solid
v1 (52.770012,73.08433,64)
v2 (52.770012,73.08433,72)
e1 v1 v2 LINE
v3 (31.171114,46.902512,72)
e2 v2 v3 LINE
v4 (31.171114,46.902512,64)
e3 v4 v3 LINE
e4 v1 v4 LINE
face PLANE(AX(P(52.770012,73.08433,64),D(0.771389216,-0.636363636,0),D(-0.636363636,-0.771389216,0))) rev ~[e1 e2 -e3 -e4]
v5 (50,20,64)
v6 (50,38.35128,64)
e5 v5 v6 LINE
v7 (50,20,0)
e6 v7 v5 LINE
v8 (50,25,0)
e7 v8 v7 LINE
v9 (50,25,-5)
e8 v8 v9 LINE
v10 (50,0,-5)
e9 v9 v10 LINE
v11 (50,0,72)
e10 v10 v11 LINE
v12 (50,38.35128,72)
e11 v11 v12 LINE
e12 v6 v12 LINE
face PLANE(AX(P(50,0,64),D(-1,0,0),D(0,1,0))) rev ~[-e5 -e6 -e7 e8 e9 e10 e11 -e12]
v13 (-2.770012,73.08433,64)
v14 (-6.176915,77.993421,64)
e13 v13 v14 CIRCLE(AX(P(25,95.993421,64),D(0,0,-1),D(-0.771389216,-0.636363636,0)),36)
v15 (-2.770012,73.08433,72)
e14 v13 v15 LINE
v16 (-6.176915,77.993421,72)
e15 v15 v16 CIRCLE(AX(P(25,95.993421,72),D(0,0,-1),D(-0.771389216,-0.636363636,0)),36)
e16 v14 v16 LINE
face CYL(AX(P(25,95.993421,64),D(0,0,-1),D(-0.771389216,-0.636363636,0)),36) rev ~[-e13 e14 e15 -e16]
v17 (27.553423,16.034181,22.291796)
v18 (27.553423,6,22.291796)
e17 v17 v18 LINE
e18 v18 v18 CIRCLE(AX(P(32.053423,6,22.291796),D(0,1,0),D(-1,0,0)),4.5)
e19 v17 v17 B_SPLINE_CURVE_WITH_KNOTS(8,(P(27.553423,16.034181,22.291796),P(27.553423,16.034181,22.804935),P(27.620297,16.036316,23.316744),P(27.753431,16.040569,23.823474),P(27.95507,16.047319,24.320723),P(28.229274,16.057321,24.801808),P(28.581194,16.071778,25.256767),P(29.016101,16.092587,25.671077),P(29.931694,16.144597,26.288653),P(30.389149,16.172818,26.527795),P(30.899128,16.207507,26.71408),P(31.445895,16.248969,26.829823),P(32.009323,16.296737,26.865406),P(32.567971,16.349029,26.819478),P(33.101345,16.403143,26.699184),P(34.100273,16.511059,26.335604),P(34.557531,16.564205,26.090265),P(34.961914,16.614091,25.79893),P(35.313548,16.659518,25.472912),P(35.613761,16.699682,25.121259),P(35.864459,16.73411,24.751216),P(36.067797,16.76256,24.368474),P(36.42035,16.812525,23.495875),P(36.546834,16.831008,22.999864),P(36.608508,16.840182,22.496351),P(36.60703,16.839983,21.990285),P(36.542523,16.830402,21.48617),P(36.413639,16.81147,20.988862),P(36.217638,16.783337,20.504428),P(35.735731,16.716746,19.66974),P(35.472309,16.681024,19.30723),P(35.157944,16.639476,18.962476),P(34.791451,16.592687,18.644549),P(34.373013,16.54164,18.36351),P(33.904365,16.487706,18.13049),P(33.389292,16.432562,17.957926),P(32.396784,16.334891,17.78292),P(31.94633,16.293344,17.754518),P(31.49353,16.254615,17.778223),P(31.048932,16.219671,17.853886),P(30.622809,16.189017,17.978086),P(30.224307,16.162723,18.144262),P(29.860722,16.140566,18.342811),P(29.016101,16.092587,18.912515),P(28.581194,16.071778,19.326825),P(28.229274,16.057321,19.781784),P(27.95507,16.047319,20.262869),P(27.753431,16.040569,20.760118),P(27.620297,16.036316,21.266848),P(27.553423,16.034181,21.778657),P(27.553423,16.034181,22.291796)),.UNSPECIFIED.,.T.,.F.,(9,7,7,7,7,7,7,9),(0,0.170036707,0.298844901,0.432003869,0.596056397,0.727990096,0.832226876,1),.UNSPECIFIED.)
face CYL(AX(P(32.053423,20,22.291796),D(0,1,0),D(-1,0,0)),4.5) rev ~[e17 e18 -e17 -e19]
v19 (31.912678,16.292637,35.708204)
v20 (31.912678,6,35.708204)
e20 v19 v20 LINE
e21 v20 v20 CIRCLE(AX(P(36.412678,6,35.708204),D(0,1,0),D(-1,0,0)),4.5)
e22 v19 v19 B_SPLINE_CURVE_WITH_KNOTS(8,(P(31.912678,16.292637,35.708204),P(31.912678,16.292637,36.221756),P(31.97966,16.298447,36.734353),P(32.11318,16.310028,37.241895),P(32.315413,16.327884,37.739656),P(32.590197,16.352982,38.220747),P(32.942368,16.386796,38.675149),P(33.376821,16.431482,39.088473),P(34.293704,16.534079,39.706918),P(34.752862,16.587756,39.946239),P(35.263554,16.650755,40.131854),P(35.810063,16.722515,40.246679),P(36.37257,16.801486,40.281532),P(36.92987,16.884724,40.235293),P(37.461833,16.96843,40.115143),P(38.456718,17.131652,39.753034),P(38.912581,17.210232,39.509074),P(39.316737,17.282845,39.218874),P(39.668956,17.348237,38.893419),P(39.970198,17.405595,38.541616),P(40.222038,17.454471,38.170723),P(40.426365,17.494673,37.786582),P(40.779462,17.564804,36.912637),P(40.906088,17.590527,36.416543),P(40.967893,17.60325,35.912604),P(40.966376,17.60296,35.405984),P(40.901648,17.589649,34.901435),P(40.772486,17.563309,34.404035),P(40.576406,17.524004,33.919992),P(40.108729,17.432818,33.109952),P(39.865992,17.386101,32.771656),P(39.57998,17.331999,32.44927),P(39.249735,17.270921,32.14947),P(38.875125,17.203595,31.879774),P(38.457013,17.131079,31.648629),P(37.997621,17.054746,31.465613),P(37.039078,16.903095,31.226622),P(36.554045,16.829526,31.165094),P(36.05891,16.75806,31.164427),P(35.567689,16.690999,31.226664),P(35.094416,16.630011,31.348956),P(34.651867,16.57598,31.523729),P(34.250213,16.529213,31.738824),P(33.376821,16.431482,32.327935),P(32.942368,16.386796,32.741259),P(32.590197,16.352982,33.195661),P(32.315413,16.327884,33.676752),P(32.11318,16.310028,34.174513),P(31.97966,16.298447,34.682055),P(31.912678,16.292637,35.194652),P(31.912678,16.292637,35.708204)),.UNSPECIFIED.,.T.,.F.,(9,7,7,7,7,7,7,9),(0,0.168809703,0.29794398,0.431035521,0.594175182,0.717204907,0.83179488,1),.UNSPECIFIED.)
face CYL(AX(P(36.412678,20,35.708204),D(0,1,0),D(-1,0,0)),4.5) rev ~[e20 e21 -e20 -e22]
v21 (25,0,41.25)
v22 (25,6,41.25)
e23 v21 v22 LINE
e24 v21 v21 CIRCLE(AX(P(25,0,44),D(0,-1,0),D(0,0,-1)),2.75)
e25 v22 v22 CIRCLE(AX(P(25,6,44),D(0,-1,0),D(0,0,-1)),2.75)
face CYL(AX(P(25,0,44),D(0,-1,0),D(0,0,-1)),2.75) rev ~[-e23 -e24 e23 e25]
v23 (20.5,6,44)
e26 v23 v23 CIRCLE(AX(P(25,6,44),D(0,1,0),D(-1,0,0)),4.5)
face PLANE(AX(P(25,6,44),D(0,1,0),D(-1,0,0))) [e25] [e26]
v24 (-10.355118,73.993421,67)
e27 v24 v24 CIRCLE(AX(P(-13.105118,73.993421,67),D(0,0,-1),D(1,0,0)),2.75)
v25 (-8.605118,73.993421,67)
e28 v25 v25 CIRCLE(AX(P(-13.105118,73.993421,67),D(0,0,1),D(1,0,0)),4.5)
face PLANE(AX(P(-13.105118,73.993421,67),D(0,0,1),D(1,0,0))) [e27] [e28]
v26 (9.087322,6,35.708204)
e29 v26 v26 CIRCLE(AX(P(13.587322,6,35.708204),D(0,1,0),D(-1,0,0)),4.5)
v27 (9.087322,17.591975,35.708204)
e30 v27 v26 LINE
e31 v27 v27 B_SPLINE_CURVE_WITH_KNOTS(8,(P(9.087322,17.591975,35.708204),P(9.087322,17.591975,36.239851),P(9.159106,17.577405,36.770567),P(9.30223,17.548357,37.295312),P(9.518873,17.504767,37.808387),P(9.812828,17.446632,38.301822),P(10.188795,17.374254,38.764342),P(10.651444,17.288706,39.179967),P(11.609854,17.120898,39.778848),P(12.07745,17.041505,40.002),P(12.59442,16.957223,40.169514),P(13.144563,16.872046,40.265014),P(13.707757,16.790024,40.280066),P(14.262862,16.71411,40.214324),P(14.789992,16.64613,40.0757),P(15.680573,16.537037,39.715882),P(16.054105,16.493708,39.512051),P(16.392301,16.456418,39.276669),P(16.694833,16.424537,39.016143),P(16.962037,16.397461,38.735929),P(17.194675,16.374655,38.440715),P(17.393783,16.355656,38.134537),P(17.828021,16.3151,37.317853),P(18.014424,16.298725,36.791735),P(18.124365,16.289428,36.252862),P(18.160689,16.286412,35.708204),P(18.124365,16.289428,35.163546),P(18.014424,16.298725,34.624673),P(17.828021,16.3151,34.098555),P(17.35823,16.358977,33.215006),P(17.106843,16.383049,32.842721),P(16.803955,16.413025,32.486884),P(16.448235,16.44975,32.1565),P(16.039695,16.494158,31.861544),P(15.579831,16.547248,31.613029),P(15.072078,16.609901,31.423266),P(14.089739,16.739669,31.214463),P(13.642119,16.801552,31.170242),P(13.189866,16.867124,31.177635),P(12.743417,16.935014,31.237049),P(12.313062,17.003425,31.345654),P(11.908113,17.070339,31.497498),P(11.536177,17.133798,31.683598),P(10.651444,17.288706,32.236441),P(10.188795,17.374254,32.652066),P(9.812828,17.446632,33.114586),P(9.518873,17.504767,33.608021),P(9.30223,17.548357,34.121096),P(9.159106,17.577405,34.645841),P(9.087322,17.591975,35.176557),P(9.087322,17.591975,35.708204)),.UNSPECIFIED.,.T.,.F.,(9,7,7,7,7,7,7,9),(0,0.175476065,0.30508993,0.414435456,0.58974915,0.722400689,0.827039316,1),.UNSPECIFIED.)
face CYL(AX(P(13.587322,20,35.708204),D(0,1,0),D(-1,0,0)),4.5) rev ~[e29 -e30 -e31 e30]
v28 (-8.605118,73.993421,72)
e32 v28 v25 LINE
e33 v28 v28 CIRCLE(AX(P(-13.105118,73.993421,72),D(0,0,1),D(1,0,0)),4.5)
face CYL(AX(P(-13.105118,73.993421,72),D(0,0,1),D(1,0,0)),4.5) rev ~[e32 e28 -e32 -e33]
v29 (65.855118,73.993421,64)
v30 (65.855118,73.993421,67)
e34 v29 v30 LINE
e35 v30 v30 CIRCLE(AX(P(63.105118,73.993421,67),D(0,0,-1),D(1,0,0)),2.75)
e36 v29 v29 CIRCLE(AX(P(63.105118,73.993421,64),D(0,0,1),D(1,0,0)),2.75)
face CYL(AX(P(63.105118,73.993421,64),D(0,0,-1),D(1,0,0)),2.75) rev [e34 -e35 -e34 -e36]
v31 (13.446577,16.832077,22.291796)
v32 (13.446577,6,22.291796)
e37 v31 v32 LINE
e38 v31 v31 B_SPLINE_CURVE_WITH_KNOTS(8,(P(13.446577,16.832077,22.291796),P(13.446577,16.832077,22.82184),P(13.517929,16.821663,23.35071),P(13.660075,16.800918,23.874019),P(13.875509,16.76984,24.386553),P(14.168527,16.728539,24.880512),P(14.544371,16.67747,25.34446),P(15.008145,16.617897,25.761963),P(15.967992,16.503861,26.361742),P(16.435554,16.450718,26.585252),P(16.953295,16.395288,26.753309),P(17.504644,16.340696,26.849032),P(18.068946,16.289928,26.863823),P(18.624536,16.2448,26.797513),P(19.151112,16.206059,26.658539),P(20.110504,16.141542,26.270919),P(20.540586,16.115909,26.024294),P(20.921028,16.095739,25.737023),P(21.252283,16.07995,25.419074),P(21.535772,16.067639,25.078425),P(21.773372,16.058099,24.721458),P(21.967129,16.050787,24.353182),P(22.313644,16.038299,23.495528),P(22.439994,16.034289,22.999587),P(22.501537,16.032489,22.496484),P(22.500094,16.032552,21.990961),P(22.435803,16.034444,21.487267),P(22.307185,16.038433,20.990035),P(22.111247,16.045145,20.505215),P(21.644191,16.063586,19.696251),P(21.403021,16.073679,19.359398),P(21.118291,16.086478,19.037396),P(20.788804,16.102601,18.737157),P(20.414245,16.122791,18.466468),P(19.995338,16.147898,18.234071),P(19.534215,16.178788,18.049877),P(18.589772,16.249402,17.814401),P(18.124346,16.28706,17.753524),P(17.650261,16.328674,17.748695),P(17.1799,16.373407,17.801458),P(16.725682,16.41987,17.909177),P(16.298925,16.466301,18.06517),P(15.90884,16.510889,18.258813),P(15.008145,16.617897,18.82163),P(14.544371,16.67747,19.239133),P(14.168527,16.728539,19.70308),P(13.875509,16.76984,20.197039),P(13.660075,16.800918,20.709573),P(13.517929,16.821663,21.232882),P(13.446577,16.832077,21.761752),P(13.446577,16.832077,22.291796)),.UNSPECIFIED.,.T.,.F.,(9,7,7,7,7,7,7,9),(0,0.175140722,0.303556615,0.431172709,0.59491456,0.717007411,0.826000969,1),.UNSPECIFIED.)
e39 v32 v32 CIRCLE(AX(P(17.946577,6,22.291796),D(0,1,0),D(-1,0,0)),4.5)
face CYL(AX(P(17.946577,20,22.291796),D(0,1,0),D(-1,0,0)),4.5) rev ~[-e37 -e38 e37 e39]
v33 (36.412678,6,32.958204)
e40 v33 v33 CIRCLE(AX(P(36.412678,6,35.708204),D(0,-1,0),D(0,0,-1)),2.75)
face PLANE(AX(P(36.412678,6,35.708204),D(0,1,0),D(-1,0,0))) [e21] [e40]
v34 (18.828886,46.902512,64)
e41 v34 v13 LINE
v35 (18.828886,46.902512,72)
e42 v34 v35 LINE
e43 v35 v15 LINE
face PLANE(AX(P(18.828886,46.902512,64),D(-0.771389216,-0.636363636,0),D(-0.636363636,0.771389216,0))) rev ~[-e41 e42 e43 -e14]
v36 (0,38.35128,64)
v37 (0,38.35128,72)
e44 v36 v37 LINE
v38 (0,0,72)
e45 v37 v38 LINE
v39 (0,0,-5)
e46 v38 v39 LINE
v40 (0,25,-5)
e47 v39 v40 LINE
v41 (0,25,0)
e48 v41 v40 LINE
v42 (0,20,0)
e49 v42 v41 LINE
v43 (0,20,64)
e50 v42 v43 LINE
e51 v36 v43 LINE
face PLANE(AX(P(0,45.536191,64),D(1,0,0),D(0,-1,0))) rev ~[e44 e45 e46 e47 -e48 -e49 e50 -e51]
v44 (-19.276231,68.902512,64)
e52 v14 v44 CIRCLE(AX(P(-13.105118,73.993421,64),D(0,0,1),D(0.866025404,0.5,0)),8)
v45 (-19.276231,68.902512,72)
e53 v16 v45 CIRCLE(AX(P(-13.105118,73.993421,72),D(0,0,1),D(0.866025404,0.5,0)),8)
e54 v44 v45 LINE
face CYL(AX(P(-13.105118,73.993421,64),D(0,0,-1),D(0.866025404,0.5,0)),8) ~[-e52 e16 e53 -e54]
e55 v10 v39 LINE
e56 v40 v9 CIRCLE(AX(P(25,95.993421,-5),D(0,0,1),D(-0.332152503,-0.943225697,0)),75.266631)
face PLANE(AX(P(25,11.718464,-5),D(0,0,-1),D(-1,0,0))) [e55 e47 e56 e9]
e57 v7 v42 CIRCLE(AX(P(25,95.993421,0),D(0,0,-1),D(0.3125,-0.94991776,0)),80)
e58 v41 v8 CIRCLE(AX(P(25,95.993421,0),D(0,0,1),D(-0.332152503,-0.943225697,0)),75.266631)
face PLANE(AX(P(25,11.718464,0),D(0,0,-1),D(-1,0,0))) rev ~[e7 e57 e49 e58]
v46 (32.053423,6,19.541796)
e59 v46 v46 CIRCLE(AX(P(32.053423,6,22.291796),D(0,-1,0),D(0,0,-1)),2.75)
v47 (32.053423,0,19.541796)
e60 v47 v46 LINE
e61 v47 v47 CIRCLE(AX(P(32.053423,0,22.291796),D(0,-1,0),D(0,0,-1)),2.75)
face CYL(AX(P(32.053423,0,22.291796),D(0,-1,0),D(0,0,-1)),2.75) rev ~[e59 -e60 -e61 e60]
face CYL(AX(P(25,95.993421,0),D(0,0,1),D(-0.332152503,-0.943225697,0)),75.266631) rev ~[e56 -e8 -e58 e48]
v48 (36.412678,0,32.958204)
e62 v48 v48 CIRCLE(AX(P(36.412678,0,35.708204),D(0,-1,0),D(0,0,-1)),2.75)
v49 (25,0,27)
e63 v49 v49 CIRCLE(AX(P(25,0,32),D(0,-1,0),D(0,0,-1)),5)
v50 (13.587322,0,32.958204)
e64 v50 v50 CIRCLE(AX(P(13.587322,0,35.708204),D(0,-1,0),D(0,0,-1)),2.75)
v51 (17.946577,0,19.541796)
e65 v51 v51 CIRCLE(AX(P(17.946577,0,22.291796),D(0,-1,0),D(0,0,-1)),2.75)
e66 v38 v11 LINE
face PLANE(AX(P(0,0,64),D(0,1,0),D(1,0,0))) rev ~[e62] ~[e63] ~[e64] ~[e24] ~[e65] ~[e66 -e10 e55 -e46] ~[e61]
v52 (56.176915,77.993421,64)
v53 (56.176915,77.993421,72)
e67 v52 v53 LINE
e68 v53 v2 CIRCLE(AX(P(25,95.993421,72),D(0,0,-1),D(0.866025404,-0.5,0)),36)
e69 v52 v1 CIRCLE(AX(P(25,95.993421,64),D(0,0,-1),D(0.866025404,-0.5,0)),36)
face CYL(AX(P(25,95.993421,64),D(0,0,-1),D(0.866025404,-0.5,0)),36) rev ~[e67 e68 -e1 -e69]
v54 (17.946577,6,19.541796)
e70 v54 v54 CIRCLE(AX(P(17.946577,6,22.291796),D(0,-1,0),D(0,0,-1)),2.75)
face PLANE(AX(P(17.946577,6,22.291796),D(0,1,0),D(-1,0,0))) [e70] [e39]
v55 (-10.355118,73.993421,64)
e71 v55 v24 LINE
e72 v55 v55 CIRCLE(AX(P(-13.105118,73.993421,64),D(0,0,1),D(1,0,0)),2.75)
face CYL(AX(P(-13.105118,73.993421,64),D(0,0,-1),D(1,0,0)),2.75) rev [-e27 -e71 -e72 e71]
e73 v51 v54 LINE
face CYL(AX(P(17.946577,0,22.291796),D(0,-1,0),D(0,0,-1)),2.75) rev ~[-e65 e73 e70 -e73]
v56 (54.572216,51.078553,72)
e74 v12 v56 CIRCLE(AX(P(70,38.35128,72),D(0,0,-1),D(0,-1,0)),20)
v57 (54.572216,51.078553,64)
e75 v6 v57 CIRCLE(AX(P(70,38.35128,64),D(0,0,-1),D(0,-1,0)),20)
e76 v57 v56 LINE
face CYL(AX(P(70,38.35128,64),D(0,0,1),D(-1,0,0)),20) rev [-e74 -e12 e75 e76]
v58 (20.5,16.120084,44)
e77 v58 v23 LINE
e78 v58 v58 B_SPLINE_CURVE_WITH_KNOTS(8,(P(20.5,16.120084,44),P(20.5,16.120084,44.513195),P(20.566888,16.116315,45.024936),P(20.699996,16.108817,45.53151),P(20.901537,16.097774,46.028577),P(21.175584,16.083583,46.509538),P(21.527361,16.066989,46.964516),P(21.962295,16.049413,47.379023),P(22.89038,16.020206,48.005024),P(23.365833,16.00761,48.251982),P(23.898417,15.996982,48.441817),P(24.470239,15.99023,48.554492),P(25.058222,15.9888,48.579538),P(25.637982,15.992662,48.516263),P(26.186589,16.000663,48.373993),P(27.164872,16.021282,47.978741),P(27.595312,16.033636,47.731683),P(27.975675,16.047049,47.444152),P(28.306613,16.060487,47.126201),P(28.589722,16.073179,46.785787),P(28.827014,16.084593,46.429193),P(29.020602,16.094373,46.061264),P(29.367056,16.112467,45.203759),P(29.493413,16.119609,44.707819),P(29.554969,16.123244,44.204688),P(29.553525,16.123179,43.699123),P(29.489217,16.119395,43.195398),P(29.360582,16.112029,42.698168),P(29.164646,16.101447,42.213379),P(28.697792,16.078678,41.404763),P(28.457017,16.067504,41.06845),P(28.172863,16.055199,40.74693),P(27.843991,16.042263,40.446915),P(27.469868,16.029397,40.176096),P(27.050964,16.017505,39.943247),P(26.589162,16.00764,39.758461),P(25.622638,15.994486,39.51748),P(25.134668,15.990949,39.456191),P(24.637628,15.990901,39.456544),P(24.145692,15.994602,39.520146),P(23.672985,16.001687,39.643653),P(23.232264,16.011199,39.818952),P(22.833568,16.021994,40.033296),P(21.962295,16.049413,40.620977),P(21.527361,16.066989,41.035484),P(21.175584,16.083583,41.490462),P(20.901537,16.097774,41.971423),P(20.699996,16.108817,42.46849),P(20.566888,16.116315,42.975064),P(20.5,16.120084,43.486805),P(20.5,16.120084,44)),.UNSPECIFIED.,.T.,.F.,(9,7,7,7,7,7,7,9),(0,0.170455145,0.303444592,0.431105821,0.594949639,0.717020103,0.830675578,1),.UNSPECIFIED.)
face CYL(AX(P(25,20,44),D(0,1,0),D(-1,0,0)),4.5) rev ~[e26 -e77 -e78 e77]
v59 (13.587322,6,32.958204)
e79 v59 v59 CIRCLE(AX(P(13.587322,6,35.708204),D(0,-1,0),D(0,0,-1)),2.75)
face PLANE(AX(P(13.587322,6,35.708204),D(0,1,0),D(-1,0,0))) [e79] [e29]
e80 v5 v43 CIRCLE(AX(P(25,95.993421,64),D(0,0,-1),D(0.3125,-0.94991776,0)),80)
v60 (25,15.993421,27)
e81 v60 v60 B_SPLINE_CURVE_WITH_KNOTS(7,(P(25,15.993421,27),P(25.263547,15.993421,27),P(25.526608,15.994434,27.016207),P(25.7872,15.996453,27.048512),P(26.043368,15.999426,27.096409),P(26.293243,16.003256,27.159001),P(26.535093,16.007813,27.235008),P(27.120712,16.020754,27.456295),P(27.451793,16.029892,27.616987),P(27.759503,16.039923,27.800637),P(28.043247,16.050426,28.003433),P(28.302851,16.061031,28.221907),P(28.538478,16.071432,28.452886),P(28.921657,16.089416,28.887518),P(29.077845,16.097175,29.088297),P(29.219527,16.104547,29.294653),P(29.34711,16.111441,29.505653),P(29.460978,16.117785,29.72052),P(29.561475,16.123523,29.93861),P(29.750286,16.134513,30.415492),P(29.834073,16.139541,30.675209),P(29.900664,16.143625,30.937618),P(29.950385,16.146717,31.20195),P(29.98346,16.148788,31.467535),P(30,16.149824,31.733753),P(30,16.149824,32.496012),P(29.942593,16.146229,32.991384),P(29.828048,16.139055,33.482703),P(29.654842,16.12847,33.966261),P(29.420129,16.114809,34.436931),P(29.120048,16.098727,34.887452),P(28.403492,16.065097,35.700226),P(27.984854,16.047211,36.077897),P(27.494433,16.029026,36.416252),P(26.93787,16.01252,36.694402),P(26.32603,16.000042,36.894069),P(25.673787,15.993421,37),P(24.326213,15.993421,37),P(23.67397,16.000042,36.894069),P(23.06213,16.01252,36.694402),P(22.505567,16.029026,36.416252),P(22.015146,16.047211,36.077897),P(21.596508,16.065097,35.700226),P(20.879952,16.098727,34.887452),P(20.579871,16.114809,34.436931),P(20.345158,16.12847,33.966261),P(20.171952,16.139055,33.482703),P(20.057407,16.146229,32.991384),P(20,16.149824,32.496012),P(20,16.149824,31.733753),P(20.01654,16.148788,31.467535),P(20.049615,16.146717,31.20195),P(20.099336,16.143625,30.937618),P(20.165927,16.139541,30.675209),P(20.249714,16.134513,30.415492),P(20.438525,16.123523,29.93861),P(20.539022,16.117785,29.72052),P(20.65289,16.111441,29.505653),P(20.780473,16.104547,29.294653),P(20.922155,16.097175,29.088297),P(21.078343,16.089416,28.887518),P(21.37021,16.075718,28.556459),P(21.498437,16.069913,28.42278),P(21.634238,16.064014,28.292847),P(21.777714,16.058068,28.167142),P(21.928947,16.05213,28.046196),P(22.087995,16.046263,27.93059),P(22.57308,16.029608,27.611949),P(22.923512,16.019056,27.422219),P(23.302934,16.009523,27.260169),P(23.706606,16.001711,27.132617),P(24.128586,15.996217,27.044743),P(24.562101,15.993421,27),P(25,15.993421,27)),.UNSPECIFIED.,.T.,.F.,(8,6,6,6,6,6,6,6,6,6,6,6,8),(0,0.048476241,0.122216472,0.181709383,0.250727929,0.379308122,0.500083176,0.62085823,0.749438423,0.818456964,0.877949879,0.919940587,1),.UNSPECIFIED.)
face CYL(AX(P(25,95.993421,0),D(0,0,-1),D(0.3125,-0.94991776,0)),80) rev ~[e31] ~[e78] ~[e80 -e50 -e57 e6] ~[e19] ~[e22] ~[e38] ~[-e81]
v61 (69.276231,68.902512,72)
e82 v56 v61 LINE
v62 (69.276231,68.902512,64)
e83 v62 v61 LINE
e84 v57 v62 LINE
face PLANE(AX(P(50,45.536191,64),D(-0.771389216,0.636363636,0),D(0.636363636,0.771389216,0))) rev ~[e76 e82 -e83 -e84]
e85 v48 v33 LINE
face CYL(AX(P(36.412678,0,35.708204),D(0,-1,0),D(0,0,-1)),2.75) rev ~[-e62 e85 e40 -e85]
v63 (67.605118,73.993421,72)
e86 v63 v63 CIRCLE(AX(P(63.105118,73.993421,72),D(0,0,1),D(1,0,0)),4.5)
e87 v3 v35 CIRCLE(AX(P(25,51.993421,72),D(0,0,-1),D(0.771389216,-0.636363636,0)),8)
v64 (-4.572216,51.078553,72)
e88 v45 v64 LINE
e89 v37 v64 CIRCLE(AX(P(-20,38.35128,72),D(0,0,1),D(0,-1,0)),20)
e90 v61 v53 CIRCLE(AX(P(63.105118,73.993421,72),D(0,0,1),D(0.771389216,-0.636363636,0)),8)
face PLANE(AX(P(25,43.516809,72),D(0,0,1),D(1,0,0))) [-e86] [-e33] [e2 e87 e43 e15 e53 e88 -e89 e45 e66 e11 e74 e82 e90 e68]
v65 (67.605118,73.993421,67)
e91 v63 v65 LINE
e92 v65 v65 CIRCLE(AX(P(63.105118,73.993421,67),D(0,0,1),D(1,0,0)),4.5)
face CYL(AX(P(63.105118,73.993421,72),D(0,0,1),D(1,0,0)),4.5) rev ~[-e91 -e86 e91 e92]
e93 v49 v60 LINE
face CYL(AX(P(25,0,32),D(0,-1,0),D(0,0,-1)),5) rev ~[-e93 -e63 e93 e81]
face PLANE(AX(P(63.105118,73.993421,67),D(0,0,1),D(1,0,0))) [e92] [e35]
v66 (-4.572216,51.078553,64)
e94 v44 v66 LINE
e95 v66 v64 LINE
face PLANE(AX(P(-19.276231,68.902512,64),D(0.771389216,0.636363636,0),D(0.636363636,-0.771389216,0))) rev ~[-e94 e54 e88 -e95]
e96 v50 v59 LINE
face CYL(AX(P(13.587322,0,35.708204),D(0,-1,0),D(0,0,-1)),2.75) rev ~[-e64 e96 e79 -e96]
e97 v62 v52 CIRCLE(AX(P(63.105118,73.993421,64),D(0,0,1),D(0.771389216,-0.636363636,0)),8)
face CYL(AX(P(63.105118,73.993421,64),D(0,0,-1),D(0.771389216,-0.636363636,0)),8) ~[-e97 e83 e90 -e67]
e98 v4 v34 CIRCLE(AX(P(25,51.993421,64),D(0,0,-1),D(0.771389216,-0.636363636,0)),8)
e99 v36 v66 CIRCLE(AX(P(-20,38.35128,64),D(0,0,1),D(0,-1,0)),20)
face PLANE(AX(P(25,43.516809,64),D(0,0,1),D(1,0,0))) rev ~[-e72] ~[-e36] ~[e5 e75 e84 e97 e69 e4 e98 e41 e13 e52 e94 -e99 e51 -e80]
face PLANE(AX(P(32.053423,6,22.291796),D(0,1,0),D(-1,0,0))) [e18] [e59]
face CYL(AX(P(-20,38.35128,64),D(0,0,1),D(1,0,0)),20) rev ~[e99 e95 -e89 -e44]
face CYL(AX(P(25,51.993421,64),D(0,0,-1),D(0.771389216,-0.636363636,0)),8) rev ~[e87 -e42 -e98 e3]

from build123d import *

# Parameters (mm, degrees)
BOSS_EXTRUDE1_DEPTH = 64
BOSS_EXTRUDE2_DEPTH = 5
SKETCH5_R           = 2.75
BOSS_EXTRUDE3_DEPTH = 8
SKETCH6_R           = 4.5
CUT_EXTRUDE1_DEPTH  = 5
SKETCH7_R           = 2.75
SKETCH7_R_2         = 5
CUT_EXTRUDE2_DEPTH  = 131.241540308
SKETCH8_R           = 4.5
CUT_EXTRUDE3_DEPTH  = 14
FILLET2_R           = 20


with BuildPart() as part:
    # Sketch3 → Boss-Extrude1 (new body)
    with BuildSketch(Plane.XY):
        with BuildLine():
            Line((0, 0), (50, 0))
            Line((50, 0), (50, 20))
            ThreePointArc((50, 20), (25, 15.993420768), (0, 20))
            Line((0, 20), (0, 0))
        make_face()
    extrude(amount=BOSS_EXTRUDE1_DEPTH)

    # Sketch4 → Boss-Extrude2 (add)
    with BuildSketch(Plane(origin=(0, 0, 0), x_dir=(-1, 0, 0), z_dir=(0, 0, -1))):
        with BuildLine():
            Line((-50, 0), (0, 0))
            Line((0, 0), (0, 25))
            ThreePointArc((0, 25), (-25, 20.726789434), (-50, 25))
            Line((-50, 25), (-50, 0))
        make_face()
    extrude(amount=BOSS_EXTRUDE2_DEPTH)

    # Sketch5 → Boss-Extrude3 (add)
    with BuildSketch(Plane.XY.offset(64)):
        with BuildLine():
            Line((0, 0), (50, 0))
            Line((50, 0), (50, 45.536190526))
            Line((50, 45.536190526), (69.276231493, 68.902511677))
            ThreePointArc((69.276231493, 68.902511677), (67.66630765, 80.565752686), (56.176914536, 77.993420768))
            ThreePointArc((56.176914536, 77.993420768), (54.575493633, 75.468066292), (52.77001177, 73.084329859))
            Line((52.77001177, 73.084329859), (31.171113727, 46.902511677))
            ThreePointArc((31.171113727, 46.902511677), (25, 43.993420768), (18.828886273, 46.902511677))
            Line((18.828886273, 46.902511677), (-2.77001177, 73.084329859))
            ThreePointArc((-2.77001177, 73.084329859), (-4.575493633, 75.468066292), (-6.176914536, 77.993420768))
            ThreePointArc((-6.176914536, 77.993420768), (-17.66630765, 80.565752686), (-19.276231493, 68.902511677))
            Line((-19.276231493, 68.902511677), (0, 45.536190526))
            Line((0, 45.536190526), (0, 0))
        make_face()
        with Locations((63.105117767, 73.993420768)):
            Circle(SKETCH5_R, mode=Mode.SUBTRACT)
        with Locations((-13.105117767, 73.993420768)):
            Circle(SKETCH5_R, mode=Mode.SUBTRACT)
    extrude(amount=BOSS_EXTRUDE3_DEPTH)

    # Sketch6 → Cut-Extrude1 (cut)
    with BuildSketch(Plane.XY.offset(72)):
        with Locations((-13.105117767, 73.993420768)):
            Circle(SKETCH6_R)
        with Locations((63.105117767, 73.993420768)):
            Circle(SKETCH6_R)
    extrude(amount=-CUT_EXTRUDE1_DEPTH, mode=Mode.SUBTRACT)

    # Sketch7 → Cut-Extrude2 (cut, through all)
    with BuildSketch(Plane.XZ):
        with Locations(Location((25, 44, 0), (0, 0, 270))):
            Circle(SKETCH7_R)
        with Locations(Location((36.412678196, 35.708203932, 0), (0, 0, 270))):
            Circle(SKETCH7_R)
        with Locations(Location((32.053423028, 22.291796068, 0), (0, 0, 270))):
            Circle(SKETCH7_R)
        with Locations(Location((17.946576972, 22.291796068, 0), (0, 0, 270))):
            Circle(SKETCH7_R)
        with Locations(Location((13.587321804, 35.708203932, 0), (0, 0, 270))):
            Circle(SKETCH7_R)
        with Locations(Location((25, 32, 0), (0, 0, 270))):
            Circle(SKETCH7_R_2)
    extrude(amount=-CUT_EXTRUDE2_DEPTH, mode=Mode.SUBTRACT)

    # Sketch8 → Cut-Extrude3 (cut)
    with BuildSketch(Plane(origin=(0, 20, 0), x_dir=(1, 0, 0), z_dir=(0, 1, 0))):
        with Locations(Location((25, -44, 0), (0, 0, 180))):
            Circle(SKETCH8_R)
        with Locations(Location((17.946576972, -22.291796068, 0), (0, 0, 180))):
            Circle(SKETCH8_R)
        with Locations(Location((32.053423028, -22.291796068, 0), (0, 0, 180))):
            Circle(SKETCH8_R)
        with Locations(Location((36.412678196, -35.708203932, 0), (0, 0, 180))):
            Circle(SKETCH8_R)
        with Locations(Location((13.587321804, -35.708203932, 0), (0, 0, 180))):
            Circle(SKETCH8_R)
    extrude(amount=-CUT_EXTRUDE3_DEPTH, mode=Mode.SUBTRACT)

    # Fillet2
    fillet2_edges = [part.edges().sort_by_distance(p)[0] for p in [
        (0, 45.536190526, 68),
        (50, 45.536190526, 68),
    ]]
    fillet(fillet2_edges, radius=FILLET2_R)


solid = part.part
